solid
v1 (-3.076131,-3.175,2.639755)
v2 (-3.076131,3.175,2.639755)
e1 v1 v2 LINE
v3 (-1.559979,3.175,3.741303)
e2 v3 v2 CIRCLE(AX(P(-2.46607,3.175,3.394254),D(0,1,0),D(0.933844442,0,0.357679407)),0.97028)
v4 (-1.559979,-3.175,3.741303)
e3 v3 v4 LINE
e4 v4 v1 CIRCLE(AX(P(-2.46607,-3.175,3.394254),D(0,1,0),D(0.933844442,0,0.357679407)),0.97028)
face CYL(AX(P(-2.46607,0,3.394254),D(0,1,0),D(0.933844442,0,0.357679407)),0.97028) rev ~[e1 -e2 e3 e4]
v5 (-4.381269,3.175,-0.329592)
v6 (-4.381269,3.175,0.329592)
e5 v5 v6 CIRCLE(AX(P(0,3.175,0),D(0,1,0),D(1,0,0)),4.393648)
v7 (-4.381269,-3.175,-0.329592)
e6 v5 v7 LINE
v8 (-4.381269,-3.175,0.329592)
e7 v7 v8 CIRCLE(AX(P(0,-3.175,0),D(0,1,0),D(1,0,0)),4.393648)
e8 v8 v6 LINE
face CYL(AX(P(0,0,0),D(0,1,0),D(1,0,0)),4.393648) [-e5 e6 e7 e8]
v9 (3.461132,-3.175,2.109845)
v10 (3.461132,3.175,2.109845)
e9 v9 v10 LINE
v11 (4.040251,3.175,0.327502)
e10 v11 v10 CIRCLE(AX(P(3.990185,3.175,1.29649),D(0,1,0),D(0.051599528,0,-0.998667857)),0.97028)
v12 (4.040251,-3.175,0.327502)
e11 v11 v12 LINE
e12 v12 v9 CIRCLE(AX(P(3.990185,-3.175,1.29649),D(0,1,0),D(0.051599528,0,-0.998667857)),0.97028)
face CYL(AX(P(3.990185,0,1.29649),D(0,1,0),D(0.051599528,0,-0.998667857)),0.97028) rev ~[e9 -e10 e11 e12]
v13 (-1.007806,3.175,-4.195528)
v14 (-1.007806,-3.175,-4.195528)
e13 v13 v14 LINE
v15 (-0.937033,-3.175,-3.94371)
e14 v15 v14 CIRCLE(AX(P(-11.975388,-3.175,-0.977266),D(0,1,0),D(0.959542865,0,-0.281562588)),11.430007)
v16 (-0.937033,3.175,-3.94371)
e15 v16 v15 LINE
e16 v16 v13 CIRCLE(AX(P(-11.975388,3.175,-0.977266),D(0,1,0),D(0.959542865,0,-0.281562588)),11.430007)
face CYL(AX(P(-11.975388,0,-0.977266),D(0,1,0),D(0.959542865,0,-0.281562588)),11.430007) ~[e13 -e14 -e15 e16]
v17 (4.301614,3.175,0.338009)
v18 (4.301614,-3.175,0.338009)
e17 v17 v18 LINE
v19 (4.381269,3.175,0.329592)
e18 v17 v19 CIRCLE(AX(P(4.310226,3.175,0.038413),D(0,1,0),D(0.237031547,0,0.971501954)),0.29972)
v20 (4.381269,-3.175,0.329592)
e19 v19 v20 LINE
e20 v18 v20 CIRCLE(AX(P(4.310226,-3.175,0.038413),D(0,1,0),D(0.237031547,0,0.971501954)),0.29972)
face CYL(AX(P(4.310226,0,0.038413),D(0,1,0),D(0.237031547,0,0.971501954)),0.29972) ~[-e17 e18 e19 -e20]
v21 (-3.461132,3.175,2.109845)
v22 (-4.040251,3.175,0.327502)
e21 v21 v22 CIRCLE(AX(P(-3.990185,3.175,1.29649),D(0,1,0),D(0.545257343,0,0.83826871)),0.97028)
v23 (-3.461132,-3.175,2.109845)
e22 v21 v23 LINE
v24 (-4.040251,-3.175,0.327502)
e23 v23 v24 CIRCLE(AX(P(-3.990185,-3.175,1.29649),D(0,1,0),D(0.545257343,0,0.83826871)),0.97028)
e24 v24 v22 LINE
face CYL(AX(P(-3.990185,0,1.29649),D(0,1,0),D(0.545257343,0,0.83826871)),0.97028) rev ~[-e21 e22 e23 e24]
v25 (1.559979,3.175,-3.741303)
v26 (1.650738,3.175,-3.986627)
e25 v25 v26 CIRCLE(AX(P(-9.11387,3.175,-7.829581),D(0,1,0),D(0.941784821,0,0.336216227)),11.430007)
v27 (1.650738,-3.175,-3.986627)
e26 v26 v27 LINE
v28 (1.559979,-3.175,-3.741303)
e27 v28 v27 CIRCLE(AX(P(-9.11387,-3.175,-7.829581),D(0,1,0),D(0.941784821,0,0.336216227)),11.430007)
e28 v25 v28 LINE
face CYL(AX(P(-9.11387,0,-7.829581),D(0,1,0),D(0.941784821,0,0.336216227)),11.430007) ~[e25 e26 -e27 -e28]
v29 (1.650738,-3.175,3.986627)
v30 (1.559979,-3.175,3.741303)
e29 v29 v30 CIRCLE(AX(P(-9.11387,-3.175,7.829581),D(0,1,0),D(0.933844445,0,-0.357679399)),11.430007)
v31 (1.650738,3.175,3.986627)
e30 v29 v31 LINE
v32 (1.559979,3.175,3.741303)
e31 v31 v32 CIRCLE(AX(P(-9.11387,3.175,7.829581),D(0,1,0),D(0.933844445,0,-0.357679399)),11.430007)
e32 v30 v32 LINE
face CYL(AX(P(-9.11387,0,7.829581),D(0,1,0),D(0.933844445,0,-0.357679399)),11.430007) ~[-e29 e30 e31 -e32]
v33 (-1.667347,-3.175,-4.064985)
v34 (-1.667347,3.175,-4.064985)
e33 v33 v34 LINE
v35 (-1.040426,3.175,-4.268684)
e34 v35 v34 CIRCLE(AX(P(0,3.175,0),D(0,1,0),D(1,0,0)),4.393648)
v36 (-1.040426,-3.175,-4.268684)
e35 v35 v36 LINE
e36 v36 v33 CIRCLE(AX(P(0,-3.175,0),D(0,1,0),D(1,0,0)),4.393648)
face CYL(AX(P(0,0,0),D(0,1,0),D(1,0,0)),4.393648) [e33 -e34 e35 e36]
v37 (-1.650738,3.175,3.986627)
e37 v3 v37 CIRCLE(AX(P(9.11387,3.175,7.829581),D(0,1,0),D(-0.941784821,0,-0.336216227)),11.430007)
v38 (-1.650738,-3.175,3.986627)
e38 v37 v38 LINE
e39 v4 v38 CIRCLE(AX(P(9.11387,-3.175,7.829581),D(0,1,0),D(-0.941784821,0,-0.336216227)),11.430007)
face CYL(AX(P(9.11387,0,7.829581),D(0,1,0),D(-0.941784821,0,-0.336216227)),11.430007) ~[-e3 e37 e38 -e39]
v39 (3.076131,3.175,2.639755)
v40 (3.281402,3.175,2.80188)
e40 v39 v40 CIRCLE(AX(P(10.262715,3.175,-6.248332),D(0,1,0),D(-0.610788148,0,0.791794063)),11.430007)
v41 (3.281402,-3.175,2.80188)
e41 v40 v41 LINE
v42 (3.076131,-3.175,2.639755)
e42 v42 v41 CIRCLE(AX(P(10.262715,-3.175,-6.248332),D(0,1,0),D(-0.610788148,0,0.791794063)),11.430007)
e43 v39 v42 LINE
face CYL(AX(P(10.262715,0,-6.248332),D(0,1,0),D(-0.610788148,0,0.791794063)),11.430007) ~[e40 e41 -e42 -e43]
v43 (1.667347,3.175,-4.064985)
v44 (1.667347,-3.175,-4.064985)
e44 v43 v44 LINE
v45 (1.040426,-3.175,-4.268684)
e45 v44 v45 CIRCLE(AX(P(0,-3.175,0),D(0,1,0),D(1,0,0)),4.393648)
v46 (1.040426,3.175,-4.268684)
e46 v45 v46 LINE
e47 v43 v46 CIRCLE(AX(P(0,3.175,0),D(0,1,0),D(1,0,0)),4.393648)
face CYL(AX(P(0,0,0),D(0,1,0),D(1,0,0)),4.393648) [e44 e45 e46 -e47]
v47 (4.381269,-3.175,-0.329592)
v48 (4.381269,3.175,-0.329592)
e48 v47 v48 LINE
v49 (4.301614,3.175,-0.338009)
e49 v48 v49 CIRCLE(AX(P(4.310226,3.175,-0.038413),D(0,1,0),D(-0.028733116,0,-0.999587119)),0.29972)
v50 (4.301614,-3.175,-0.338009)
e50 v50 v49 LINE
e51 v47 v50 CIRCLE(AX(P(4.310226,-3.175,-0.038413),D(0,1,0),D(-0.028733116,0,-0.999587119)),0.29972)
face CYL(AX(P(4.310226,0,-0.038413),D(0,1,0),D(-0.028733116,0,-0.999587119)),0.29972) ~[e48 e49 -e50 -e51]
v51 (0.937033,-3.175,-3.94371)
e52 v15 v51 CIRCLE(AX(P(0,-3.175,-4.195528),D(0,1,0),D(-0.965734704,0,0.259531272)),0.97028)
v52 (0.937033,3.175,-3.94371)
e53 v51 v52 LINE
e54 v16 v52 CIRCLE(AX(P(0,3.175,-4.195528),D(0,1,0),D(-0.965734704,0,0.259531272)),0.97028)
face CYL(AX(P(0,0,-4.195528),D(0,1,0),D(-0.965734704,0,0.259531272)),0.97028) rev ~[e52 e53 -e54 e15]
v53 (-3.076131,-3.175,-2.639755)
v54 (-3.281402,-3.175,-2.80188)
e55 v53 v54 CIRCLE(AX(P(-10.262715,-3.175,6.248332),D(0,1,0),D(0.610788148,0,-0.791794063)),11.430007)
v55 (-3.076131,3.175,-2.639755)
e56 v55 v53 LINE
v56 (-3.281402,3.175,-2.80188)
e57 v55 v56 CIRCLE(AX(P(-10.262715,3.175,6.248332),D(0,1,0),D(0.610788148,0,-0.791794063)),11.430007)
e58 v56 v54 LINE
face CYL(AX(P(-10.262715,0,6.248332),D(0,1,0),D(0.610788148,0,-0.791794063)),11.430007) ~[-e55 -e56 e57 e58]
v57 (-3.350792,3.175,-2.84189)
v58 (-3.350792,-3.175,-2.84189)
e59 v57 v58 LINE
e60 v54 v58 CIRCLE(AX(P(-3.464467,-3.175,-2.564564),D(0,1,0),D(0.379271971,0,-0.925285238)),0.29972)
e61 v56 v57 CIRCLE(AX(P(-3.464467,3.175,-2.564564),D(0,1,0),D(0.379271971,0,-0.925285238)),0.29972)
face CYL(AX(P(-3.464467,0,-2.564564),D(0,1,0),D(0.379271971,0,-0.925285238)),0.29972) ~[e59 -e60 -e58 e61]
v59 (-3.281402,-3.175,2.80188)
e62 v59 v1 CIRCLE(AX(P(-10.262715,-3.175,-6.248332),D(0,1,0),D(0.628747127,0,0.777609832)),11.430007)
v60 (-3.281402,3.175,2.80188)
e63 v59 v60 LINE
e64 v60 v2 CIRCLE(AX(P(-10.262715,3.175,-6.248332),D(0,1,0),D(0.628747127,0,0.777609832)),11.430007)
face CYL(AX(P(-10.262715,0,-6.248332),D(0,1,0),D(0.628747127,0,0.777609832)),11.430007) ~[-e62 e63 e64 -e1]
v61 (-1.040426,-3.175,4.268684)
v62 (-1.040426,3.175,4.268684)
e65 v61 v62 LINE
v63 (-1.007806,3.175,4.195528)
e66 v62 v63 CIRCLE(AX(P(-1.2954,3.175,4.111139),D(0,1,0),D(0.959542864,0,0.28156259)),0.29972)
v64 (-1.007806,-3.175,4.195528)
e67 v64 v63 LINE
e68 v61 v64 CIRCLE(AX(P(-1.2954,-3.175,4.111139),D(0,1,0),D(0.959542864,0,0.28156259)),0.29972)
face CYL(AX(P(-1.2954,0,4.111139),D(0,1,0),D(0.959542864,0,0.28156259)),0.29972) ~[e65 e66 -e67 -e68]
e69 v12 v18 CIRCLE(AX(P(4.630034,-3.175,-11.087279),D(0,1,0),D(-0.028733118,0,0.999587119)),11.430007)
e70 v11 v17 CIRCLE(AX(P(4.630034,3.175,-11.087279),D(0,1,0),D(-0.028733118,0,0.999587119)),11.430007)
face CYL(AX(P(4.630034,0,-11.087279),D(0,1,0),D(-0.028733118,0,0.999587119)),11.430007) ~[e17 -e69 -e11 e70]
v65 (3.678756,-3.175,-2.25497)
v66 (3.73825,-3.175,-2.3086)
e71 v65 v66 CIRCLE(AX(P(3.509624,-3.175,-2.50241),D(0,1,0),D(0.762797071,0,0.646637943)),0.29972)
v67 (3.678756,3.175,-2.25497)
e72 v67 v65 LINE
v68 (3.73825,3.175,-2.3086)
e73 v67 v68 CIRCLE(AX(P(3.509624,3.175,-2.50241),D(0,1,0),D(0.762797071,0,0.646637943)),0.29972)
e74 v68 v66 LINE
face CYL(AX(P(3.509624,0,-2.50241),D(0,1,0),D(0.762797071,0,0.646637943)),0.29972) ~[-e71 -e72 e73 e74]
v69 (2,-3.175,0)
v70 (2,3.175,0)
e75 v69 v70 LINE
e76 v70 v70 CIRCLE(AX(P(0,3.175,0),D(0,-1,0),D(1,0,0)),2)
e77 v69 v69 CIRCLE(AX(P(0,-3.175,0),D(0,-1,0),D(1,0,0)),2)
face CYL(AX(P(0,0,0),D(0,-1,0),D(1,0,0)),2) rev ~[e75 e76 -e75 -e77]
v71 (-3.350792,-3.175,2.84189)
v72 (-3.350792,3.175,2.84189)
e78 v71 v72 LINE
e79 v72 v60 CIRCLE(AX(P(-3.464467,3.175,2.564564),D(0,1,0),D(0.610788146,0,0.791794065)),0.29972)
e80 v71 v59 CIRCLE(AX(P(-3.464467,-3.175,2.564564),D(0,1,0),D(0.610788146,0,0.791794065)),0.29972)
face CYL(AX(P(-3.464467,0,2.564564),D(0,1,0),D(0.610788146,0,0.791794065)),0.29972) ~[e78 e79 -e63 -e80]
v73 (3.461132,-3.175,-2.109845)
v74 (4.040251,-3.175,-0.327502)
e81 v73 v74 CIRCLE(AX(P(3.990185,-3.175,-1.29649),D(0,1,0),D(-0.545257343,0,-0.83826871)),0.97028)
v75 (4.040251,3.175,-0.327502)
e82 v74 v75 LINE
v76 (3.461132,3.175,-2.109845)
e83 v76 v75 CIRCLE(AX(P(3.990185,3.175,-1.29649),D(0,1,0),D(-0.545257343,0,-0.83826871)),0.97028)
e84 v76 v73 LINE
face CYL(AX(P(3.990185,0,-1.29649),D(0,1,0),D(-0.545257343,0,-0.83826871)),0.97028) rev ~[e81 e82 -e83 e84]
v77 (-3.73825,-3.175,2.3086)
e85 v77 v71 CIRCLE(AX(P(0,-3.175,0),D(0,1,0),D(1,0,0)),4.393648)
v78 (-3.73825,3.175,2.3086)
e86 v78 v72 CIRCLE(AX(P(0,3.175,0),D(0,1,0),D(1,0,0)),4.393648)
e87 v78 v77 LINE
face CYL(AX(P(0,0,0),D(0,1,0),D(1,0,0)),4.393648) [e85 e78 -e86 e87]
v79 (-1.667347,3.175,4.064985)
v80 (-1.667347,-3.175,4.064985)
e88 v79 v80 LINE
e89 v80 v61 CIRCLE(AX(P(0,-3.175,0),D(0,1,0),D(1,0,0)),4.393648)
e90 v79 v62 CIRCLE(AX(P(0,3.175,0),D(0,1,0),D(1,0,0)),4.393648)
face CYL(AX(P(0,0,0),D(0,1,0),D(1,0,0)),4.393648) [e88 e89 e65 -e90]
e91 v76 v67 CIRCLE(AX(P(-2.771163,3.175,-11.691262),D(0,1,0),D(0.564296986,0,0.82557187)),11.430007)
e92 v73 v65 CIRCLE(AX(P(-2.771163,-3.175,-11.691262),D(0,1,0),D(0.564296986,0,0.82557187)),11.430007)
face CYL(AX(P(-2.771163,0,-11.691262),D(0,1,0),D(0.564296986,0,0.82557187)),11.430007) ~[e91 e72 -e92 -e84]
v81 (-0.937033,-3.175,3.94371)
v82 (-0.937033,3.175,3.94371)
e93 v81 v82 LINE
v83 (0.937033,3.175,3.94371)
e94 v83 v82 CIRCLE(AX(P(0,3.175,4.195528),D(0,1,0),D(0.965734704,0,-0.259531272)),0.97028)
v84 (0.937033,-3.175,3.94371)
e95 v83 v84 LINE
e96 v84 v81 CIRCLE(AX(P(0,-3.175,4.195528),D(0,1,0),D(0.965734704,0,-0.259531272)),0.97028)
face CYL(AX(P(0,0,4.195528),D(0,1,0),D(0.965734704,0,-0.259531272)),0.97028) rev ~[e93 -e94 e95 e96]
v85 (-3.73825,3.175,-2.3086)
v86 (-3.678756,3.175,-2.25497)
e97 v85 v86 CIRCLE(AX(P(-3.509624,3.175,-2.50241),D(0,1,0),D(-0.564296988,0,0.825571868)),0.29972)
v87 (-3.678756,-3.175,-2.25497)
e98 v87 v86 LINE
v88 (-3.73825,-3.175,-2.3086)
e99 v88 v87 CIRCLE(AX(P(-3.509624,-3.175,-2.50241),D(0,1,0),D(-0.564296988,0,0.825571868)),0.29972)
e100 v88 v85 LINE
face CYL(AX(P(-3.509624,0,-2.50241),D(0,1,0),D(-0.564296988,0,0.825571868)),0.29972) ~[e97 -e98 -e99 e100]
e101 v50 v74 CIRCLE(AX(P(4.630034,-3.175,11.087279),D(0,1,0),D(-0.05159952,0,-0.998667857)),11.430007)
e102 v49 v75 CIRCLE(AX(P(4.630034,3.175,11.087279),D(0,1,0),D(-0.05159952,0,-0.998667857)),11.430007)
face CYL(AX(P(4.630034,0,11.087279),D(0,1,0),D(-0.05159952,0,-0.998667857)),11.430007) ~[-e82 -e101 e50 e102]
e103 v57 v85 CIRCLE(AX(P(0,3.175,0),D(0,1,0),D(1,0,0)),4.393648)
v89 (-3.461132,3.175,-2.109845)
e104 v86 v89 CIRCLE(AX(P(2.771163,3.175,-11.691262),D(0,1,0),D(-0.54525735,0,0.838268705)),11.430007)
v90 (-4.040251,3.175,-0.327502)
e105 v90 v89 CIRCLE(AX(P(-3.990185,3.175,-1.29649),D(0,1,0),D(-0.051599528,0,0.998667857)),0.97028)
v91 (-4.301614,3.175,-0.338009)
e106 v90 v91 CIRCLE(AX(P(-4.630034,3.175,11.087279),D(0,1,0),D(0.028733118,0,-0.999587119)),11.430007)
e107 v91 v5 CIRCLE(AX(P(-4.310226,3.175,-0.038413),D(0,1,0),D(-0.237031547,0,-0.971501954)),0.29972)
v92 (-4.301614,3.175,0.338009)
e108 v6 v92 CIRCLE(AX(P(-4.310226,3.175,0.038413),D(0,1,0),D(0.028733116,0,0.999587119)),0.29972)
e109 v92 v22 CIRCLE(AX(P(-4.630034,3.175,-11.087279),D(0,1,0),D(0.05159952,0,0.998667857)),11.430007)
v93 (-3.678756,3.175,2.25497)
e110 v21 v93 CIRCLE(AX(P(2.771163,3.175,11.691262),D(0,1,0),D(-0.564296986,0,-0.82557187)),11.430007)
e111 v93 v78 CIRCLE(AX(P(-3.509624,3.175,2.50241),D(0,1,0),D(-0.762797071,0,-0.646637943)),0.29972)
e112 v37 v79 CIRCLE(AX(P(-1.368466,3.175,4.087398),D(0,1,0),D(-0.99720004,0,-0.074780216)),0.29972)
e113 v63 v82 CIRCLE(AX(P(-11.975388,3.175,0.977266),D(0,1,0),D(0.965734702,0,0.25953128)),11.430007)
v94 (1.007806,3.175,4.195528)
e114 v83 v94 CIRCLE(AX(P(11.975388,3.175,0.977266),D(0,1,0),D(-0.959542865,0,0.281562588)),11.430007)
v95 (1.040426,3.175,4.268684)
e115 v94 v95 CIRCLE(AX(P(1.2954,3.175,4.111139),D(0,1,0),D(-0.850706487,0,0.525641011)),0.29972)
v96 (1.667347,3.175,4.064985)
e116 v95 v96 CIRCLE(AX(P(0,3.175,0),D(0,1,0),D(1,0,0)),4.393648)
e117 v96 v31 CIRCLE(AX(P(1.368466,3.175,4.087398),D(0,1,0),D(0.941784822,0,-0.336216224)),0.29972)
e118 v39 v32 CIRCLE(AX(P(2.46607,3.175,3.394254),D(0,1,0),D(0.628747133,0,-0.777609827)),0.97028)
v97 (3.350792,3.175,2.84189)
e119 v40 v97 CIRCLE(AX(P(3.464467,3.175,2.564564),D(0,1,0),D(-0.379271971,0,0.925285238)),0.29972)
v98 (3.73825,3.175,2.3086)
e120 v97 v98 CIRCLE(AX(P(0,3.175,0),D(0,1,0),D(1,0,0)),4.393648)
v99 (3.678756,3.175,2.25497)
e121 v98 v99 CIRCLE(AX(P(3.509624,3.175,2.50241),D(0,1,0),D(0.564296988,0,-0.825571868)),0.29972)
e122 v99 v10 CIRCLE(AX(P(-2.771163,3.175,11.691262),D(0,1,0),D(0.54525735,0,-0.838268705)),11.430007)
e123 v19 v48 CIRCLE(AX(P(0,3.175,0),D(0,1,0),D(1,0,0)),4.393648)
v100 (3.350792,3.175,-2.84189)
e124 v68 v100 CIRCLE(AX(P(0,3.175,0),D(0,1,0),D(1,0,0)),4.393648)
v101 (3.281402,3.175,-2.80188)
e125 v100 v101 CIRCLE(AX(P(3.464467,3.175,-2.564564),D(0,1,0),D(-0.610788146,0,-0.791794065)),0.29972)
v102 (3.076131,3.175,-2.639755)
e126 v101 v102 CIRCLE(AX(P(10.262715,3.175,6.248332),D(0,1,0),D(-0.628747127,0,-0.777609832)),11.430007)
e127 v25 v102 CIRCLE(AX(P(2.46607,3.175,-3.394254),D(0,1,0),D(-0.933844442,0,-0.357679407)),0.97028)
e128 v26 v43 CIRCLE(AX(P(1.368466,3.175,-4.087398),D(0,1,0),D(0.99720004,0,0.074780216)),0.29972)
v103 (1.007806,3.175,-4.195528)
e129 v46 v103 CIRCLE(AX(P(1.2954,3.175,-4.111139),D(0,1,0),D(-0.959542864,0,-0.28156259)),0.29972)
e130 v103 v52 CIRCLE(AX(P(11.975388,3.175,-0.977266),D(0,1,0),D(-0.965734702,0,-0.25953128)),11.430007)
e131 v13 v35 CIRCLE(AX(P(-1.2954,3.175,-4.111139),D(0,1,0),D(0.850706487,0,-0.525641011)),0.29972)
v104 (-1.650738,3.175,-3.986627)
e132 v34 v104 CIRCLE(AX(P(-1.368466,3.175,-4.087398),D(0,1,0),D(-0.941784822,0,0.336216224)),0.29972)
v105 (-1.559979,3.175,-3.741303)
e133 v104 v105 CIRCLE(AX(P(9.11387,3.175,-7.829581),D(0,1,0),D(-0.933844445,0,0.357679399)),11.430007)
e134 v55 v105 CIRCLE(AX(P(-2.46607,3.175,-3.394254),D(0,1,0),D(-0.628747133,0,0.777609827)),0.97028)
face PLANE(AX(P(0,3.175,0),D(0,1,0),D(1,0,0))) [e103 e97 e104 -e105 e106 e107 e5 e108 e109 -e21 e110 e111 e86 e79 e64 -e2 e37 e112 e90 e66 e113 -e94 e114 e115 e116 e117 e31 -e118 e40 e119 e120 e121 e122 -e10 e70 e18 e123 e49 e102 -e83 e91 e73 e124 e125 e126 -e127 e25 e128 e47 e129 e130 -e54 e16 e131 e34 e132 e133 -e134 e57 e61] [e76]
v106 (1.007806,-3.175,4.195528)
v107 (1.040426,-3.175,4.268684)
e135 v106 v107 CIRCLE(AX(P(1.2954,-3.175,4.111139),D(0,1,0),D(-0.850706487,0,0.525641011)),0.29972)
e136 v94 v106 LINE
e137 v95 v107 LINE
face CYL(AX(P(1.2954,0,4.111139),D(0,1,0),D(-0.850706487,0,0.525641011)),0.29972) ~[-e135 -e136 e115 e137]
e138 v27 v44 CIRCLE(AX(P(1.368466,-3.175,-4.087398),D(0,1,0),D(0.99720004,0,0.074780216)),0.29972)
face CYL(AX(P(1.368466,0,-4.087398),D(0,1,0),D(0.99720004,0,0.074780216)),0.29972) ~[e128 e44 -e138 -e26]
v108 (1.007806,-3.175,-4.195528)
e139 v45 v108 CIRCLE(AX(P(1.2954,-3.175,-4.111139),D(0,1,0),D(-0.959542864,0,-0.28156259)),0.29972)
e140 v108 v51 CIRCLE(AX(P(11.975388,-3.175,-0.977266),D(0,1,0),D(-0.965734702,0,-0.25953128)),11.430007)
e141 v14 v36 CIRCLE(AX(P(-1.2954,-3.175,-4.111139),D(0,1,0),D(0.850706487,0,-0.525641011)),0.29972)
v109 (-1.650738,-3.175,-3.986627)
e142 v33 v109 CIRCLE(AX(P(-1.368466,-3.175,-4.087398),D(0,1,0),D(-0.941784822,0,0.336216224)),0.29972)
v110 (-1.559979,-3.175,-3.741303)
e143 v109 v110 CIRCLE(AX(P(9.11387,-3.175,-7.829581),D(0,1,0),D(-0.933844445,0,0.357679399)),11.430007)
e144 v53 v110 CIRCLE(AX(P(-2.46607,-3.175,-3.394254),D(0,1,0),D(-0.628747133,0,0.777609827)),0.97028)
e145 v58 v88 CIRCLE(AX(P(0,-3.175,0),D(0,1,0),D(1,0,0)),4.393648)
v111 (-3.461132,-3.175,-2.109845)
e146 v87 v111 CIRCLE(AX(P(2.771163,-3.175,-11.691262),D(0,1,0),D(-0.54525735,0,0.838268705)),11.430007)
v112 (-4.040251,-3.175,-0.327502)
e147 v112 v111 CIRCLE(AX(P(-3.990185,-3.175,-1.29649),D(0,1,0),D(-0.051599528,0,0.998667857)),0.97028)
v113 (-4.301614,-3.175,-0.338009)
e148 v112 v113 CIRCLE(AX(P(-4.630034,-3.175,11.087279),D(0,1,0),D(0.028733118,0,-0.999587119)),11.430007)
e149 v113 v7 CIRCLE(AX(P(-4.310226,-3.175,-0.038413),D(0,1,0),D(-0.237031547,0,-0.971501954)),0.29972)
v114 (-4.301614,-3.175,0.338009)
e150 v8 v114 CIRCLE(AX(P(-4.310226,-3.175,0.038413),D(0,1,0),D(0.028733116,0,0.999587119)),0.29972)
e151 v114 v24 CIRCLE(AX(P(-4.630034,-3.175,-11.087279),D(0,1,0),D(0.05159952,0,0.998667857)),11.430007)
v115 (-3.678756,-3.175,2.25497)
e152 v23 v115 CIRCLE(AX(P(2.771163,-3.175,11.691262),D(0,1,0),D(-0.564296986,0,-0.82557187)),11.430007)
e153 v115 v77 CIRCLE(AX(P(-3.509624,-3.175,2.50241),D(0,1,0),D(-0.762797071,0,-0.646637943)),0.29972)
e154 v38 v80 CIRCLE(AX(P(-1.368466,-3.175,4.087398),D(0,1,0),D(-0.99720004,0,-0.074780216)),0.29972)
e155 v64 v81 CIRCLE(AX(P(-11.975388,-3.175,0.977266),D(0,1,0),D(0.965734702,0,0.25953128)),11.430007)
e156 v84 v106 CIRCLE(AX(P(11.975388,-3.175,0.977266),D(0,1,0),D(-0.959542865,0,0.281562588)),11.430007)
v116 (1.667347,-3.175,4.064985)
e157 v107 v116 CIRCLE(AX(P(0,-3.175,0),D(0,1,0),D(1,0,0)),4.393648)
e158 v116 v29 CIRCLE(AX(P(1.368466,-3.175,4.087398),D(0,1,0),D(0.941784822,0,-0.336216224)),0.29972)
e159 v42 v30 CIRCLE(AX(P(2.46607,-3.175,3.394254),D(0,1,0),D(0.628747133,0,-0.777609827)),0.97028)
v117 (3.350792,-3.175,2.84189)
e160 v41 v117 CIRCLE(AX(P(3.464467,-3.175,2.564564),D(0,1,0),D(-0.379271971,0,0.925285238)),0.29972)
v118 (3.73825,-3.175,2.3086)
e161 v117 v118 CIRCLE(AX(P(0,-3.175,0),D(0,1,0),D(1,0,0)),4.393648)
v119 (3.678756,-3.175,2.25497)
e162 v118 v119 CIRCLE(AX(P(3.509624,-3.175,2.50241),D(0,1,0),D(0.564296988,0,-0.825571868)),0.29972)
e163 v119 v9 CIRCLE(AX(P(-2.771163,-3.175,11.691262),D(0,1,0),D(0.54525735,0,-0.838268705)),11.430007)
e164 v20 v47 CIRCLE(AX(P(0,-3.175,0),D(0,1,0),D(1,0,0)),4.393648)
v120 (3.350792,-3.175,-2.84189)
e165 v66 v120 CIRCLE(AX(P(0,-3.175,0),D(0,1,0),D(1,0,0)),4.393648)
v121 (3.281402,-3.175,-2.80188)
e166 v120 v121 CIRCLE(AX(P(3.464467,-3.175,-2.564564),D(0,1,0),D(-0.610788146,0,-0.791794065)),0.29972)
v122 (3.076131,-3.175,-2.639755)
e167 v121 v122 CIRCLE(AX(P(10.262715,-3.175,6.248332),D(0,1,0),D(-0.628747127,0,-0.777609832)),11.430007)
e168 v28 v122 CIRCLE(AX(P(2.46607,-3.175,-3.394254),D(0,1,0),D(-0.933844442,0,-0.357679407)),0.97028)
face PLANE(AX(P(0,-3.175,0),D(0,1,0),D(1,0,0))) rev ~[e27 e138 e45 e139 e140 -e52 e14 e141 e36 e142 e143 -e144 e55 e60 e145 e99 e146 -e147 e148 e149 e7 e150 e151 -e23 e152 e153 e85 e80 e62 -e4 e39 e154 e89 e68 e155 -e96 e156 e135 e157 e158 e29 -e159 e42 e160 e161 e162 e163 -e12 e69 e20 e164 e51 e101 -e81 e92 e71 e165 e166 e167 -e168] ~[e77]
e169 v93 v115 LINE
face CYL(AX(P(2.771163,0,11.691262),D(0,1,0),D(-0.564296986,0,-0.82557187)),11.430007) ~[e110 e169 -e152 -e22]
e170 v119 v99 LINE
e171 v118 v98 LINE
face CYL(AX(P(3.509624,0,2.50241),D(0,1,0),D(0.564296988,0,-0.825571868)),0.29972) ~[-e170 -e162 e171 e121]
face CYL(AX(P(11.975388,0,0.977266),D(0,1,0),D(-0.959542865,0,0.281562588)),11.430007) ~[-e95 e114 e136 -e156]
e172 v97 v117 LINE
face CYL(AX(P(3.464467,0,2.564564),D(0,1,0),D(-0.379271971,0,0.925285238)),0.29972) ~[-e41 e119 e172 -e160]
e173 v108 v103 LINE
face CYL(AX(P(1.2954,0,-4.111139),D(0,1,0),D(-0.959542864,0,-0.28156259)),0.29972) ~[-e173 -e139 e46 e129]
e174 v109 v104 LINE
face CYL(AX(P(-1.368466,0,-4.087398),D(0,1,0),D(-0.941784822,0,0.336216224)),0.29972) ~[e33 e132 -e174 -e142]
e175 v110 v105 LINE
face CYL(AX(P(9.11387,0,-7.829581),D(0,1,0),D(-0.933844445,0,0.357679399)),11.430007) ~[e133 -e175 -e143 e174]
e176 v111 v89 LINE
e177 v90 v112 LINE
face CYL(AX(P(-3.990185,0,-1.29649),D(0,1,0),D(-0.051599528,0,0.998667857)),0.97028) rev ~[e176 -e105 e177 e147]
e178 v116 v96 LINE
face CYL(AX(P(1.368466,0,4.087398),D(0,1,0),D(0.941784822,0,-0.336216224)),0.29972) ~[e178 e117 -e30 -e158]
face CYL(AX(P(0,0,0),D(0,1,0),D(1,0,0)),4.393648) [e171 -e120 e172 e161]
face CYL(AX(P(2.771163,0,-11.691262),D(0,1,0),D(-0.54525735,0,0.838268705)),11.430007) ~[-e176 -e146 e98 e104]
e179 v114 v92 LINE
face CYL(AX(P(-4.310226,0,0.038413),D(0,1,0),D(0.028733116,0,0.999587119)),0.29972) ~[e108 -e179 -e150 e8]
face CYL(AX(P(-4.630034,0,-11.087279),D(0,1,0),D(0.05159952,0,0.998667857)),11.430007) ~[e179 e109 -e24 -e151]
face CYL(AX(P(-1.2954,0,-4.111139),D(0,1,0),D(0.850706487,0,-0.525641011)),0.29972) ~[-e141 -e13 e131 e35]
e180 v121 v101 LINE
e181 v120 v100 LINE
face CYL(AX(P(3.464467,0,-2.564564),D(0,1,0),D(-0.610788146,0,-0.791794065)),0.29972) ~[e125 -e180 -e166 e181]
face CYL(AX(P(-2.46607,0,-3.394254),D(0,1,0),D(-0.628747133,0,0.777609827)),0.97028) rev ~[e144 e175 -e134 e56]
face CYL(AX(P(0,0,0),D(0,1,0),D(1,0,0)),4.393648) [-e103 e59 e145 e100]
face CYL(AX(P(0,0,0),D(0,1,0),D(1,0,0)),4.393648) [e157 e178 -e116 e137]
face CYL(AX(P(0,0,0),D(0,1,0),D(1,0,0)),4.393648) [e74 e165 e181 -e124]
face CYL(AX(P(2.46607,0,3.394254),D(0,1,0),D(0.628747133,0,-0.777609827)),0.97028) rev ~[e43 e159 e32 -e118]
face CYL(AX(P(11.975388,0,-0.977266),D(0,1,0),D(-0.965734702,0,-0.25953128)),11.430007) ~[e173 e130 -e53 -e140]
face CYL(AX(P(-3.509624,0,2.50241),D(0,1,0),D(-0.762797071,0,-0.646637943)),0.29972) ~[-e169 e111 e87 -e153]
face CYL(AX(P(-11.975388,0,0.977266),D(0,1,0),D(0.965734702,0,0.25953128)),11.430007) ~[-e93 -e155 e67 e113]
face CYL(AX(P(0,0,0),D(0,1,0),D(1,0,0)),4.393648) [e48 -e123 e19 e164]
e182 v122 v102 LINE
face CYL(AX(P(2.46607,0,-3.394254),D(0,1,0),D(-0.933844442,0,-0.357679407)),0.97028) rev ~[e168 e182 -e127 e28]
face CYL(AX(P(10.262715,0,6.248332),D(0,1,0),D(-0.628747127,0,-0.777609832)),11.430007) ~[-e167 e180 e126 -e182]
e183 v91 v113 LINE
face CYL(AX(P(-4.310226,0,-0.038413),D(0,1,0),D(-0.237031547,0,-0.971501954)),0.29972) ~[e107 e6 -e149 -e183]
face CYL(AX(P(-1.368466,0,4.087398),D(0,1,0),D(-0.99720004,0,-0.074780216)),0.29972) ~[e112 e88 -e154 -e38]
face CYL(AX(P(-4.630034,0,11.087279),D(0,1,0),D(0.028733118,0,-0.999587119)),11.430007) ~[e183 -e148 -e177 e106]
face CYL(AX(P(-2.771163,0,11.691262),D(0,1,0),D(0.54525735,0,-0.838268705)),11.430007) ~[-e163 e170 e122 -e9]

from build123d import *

# Parameters (mm, degrees)
SKETCH1_R          = 4.393648446
TOOTHOD_DEPTH      = 3.4925
TOOTHPROFILE_DEPTH = 8.127822218
TOOTHPATTERN_COUNT = 10
BORE_DEPTH         = 10.035238042
BORE_DEPTH_BACK    = 10.035238042
SKETCH7_R          = 2
CUT_EXTRUDE1_START = 3.175
SKETCH11_R         = 5.536648446
CUT_EXTRUDE1_DEPTH = 6.860238042
CUT_EXTRUDE2_START = -3.175
SKETCH11_2_R       = 5.536648446
CUT_EXTRUDE2_DEPTH = 6.860238042


with BuildPart() as part:
    # Sketch1 → ToothOD (new, symmetric)
    with BuildSketch(Plane(origin=(0, 0, 0), x_dir=(1, 0, 0), z_dir=(0, 1, 0))):
        Circle(SKETCH1_R)
    extrude(amount=TOOTHOD_DEPTH, both=True)

    # Sketch2 → ToothProfile (cut, symmetric)
    with BuildSketch(Plane(origin=(0, 0, 0), x_dir=(1, 0, 0), z_dir=(0, 1, 0))):
        with BuildLine():
            ThreePointArc((-0.937033068, 3.943710441), (-0.590385173, 3.425535831), (0, 3.225248446))
            ThreePointArc((0, 3.225248446), (0.590385173, 3.425535831), (0.937033068, 3.943710441))
            ThreePointArc((0.937033068, 3.943710441), (0.971699064, 4.069821903), (1.007805813, 4.195528446))
            ThreePointArc((1.007805813, 4.195528446), (1.021661234, 4.233200647), (1.040426249, 4.268683624))
            ThreePointArc((1.040426249, 4.268683624), (0, 4.393648446), (-1.040426249, 4.268683624))
            ThreePointArc((-1.040426249, 4.268683624), (-1.021661234, 4.233200647), (-1.007805813, 4.195528446))
            ThreePointArc((-1.007805813, 4.195528446), (-0.971699064, 4.069821903), (-0.937033068, 3.943710441))
        make_face()
    toothprofile = extrude(amount=TOOTHPROFILE_DEPTH, both=True, mode=Mode.SUBTRACT)

    # ToothPattern: ToothProfile ×10 about axis
    toothpattern_axis = Axis((0, 3.4925, 0), (0, -1, 0))
    for i in range(1, TOOTHPATTERN_COUNT):
        add(toothprofile.rotate(toothpattern_axis, i * 360 / TOOTHPATTERN_COUNT), mode=Mode.SUBTRACT)

    # Sketch4 → Flange (revolve)
    with BuildSketch(Plane.XY):
        with BuildLine():
            Line((0, -3.4925), (4.647648446, -3.4925))
            ThreePointArc((4.647648446, -3.4925), (4.839929254, -3.531494589), (5.028648446, -3.585137424))
            ThreePointArc((5.028648446, -3.585137424), (5.304690043, -3.90309066), (5.536648446, -4.2545))
            Line((5.536648446, -4.2545), (5.536648446, -4.5085))
            Line((5.536648446, -4.5085), (0, -4.5085))
            Line((0, -4.5085), (0, -3.4925))
        make_face()
        with BuildLine():
            Line((5.536648446, 4.5085), (5.536648446, 4.2545))
            ThreePointArc((5.536648446, 4.2545), (5.304690043, 3.90309066), (5.028648446, 3.585137424))
            ThreePointArc((5.028648446, 3.585137424), (4.839929254, 3.531494589), (4.647648446, 3.4925))
            Line((4.647648446, 3.4925), (0, 3.4925))
            Line((0, 3.4925), (0, 4.5085))
            Line((0, 4.5085), (5.536648446, 4.5085))
        make_face()
    revolve(axis=Axis((0, 8.73125, 0), (0, -1, 0)))

    # Sketch7 → Bore (cut, two sides: drawn at the far end of the back side and taken through both)
    with BuildSketch(Plane.XZ.offset(-BORE_DEPTH_BACK)):
        Circle(SKETCH7_R)
    extrude(amount=BORE_DEPTH + BORE_DEPTH_BACK, mode=Mode.SUBTRACT)

    # Sketch11 → Cut-Extrude1 (cut, through all)
    with BuildSketch(Plane(origin=(0, 0, 0), x_dir=(1, 0, 0), z_dir=(0, 1, 0)).offset(CUT_EXTRUDE1_START)):
        Circle(SKETCH11_R)
    extrude(amount=CUT_EXTRUDE1_DEPTH, mode=Mode.SUBTRACT)

    # Sketch11_2 → Cut-Extrude2 (cut, through all)
    with BuildSketch(Plane(origin=(0, 0, 0), x_dir=(1, 0, 0), z_dir=(0, 1, 0)).offset(CUT_EXTRUDE2_START)):
        Circle(SKETCH11_2_R)
    extrude(amount=-CUT_EXTRUDE2_DEPTH, mode=Mode.SUBTRACT)


solid = part.part
